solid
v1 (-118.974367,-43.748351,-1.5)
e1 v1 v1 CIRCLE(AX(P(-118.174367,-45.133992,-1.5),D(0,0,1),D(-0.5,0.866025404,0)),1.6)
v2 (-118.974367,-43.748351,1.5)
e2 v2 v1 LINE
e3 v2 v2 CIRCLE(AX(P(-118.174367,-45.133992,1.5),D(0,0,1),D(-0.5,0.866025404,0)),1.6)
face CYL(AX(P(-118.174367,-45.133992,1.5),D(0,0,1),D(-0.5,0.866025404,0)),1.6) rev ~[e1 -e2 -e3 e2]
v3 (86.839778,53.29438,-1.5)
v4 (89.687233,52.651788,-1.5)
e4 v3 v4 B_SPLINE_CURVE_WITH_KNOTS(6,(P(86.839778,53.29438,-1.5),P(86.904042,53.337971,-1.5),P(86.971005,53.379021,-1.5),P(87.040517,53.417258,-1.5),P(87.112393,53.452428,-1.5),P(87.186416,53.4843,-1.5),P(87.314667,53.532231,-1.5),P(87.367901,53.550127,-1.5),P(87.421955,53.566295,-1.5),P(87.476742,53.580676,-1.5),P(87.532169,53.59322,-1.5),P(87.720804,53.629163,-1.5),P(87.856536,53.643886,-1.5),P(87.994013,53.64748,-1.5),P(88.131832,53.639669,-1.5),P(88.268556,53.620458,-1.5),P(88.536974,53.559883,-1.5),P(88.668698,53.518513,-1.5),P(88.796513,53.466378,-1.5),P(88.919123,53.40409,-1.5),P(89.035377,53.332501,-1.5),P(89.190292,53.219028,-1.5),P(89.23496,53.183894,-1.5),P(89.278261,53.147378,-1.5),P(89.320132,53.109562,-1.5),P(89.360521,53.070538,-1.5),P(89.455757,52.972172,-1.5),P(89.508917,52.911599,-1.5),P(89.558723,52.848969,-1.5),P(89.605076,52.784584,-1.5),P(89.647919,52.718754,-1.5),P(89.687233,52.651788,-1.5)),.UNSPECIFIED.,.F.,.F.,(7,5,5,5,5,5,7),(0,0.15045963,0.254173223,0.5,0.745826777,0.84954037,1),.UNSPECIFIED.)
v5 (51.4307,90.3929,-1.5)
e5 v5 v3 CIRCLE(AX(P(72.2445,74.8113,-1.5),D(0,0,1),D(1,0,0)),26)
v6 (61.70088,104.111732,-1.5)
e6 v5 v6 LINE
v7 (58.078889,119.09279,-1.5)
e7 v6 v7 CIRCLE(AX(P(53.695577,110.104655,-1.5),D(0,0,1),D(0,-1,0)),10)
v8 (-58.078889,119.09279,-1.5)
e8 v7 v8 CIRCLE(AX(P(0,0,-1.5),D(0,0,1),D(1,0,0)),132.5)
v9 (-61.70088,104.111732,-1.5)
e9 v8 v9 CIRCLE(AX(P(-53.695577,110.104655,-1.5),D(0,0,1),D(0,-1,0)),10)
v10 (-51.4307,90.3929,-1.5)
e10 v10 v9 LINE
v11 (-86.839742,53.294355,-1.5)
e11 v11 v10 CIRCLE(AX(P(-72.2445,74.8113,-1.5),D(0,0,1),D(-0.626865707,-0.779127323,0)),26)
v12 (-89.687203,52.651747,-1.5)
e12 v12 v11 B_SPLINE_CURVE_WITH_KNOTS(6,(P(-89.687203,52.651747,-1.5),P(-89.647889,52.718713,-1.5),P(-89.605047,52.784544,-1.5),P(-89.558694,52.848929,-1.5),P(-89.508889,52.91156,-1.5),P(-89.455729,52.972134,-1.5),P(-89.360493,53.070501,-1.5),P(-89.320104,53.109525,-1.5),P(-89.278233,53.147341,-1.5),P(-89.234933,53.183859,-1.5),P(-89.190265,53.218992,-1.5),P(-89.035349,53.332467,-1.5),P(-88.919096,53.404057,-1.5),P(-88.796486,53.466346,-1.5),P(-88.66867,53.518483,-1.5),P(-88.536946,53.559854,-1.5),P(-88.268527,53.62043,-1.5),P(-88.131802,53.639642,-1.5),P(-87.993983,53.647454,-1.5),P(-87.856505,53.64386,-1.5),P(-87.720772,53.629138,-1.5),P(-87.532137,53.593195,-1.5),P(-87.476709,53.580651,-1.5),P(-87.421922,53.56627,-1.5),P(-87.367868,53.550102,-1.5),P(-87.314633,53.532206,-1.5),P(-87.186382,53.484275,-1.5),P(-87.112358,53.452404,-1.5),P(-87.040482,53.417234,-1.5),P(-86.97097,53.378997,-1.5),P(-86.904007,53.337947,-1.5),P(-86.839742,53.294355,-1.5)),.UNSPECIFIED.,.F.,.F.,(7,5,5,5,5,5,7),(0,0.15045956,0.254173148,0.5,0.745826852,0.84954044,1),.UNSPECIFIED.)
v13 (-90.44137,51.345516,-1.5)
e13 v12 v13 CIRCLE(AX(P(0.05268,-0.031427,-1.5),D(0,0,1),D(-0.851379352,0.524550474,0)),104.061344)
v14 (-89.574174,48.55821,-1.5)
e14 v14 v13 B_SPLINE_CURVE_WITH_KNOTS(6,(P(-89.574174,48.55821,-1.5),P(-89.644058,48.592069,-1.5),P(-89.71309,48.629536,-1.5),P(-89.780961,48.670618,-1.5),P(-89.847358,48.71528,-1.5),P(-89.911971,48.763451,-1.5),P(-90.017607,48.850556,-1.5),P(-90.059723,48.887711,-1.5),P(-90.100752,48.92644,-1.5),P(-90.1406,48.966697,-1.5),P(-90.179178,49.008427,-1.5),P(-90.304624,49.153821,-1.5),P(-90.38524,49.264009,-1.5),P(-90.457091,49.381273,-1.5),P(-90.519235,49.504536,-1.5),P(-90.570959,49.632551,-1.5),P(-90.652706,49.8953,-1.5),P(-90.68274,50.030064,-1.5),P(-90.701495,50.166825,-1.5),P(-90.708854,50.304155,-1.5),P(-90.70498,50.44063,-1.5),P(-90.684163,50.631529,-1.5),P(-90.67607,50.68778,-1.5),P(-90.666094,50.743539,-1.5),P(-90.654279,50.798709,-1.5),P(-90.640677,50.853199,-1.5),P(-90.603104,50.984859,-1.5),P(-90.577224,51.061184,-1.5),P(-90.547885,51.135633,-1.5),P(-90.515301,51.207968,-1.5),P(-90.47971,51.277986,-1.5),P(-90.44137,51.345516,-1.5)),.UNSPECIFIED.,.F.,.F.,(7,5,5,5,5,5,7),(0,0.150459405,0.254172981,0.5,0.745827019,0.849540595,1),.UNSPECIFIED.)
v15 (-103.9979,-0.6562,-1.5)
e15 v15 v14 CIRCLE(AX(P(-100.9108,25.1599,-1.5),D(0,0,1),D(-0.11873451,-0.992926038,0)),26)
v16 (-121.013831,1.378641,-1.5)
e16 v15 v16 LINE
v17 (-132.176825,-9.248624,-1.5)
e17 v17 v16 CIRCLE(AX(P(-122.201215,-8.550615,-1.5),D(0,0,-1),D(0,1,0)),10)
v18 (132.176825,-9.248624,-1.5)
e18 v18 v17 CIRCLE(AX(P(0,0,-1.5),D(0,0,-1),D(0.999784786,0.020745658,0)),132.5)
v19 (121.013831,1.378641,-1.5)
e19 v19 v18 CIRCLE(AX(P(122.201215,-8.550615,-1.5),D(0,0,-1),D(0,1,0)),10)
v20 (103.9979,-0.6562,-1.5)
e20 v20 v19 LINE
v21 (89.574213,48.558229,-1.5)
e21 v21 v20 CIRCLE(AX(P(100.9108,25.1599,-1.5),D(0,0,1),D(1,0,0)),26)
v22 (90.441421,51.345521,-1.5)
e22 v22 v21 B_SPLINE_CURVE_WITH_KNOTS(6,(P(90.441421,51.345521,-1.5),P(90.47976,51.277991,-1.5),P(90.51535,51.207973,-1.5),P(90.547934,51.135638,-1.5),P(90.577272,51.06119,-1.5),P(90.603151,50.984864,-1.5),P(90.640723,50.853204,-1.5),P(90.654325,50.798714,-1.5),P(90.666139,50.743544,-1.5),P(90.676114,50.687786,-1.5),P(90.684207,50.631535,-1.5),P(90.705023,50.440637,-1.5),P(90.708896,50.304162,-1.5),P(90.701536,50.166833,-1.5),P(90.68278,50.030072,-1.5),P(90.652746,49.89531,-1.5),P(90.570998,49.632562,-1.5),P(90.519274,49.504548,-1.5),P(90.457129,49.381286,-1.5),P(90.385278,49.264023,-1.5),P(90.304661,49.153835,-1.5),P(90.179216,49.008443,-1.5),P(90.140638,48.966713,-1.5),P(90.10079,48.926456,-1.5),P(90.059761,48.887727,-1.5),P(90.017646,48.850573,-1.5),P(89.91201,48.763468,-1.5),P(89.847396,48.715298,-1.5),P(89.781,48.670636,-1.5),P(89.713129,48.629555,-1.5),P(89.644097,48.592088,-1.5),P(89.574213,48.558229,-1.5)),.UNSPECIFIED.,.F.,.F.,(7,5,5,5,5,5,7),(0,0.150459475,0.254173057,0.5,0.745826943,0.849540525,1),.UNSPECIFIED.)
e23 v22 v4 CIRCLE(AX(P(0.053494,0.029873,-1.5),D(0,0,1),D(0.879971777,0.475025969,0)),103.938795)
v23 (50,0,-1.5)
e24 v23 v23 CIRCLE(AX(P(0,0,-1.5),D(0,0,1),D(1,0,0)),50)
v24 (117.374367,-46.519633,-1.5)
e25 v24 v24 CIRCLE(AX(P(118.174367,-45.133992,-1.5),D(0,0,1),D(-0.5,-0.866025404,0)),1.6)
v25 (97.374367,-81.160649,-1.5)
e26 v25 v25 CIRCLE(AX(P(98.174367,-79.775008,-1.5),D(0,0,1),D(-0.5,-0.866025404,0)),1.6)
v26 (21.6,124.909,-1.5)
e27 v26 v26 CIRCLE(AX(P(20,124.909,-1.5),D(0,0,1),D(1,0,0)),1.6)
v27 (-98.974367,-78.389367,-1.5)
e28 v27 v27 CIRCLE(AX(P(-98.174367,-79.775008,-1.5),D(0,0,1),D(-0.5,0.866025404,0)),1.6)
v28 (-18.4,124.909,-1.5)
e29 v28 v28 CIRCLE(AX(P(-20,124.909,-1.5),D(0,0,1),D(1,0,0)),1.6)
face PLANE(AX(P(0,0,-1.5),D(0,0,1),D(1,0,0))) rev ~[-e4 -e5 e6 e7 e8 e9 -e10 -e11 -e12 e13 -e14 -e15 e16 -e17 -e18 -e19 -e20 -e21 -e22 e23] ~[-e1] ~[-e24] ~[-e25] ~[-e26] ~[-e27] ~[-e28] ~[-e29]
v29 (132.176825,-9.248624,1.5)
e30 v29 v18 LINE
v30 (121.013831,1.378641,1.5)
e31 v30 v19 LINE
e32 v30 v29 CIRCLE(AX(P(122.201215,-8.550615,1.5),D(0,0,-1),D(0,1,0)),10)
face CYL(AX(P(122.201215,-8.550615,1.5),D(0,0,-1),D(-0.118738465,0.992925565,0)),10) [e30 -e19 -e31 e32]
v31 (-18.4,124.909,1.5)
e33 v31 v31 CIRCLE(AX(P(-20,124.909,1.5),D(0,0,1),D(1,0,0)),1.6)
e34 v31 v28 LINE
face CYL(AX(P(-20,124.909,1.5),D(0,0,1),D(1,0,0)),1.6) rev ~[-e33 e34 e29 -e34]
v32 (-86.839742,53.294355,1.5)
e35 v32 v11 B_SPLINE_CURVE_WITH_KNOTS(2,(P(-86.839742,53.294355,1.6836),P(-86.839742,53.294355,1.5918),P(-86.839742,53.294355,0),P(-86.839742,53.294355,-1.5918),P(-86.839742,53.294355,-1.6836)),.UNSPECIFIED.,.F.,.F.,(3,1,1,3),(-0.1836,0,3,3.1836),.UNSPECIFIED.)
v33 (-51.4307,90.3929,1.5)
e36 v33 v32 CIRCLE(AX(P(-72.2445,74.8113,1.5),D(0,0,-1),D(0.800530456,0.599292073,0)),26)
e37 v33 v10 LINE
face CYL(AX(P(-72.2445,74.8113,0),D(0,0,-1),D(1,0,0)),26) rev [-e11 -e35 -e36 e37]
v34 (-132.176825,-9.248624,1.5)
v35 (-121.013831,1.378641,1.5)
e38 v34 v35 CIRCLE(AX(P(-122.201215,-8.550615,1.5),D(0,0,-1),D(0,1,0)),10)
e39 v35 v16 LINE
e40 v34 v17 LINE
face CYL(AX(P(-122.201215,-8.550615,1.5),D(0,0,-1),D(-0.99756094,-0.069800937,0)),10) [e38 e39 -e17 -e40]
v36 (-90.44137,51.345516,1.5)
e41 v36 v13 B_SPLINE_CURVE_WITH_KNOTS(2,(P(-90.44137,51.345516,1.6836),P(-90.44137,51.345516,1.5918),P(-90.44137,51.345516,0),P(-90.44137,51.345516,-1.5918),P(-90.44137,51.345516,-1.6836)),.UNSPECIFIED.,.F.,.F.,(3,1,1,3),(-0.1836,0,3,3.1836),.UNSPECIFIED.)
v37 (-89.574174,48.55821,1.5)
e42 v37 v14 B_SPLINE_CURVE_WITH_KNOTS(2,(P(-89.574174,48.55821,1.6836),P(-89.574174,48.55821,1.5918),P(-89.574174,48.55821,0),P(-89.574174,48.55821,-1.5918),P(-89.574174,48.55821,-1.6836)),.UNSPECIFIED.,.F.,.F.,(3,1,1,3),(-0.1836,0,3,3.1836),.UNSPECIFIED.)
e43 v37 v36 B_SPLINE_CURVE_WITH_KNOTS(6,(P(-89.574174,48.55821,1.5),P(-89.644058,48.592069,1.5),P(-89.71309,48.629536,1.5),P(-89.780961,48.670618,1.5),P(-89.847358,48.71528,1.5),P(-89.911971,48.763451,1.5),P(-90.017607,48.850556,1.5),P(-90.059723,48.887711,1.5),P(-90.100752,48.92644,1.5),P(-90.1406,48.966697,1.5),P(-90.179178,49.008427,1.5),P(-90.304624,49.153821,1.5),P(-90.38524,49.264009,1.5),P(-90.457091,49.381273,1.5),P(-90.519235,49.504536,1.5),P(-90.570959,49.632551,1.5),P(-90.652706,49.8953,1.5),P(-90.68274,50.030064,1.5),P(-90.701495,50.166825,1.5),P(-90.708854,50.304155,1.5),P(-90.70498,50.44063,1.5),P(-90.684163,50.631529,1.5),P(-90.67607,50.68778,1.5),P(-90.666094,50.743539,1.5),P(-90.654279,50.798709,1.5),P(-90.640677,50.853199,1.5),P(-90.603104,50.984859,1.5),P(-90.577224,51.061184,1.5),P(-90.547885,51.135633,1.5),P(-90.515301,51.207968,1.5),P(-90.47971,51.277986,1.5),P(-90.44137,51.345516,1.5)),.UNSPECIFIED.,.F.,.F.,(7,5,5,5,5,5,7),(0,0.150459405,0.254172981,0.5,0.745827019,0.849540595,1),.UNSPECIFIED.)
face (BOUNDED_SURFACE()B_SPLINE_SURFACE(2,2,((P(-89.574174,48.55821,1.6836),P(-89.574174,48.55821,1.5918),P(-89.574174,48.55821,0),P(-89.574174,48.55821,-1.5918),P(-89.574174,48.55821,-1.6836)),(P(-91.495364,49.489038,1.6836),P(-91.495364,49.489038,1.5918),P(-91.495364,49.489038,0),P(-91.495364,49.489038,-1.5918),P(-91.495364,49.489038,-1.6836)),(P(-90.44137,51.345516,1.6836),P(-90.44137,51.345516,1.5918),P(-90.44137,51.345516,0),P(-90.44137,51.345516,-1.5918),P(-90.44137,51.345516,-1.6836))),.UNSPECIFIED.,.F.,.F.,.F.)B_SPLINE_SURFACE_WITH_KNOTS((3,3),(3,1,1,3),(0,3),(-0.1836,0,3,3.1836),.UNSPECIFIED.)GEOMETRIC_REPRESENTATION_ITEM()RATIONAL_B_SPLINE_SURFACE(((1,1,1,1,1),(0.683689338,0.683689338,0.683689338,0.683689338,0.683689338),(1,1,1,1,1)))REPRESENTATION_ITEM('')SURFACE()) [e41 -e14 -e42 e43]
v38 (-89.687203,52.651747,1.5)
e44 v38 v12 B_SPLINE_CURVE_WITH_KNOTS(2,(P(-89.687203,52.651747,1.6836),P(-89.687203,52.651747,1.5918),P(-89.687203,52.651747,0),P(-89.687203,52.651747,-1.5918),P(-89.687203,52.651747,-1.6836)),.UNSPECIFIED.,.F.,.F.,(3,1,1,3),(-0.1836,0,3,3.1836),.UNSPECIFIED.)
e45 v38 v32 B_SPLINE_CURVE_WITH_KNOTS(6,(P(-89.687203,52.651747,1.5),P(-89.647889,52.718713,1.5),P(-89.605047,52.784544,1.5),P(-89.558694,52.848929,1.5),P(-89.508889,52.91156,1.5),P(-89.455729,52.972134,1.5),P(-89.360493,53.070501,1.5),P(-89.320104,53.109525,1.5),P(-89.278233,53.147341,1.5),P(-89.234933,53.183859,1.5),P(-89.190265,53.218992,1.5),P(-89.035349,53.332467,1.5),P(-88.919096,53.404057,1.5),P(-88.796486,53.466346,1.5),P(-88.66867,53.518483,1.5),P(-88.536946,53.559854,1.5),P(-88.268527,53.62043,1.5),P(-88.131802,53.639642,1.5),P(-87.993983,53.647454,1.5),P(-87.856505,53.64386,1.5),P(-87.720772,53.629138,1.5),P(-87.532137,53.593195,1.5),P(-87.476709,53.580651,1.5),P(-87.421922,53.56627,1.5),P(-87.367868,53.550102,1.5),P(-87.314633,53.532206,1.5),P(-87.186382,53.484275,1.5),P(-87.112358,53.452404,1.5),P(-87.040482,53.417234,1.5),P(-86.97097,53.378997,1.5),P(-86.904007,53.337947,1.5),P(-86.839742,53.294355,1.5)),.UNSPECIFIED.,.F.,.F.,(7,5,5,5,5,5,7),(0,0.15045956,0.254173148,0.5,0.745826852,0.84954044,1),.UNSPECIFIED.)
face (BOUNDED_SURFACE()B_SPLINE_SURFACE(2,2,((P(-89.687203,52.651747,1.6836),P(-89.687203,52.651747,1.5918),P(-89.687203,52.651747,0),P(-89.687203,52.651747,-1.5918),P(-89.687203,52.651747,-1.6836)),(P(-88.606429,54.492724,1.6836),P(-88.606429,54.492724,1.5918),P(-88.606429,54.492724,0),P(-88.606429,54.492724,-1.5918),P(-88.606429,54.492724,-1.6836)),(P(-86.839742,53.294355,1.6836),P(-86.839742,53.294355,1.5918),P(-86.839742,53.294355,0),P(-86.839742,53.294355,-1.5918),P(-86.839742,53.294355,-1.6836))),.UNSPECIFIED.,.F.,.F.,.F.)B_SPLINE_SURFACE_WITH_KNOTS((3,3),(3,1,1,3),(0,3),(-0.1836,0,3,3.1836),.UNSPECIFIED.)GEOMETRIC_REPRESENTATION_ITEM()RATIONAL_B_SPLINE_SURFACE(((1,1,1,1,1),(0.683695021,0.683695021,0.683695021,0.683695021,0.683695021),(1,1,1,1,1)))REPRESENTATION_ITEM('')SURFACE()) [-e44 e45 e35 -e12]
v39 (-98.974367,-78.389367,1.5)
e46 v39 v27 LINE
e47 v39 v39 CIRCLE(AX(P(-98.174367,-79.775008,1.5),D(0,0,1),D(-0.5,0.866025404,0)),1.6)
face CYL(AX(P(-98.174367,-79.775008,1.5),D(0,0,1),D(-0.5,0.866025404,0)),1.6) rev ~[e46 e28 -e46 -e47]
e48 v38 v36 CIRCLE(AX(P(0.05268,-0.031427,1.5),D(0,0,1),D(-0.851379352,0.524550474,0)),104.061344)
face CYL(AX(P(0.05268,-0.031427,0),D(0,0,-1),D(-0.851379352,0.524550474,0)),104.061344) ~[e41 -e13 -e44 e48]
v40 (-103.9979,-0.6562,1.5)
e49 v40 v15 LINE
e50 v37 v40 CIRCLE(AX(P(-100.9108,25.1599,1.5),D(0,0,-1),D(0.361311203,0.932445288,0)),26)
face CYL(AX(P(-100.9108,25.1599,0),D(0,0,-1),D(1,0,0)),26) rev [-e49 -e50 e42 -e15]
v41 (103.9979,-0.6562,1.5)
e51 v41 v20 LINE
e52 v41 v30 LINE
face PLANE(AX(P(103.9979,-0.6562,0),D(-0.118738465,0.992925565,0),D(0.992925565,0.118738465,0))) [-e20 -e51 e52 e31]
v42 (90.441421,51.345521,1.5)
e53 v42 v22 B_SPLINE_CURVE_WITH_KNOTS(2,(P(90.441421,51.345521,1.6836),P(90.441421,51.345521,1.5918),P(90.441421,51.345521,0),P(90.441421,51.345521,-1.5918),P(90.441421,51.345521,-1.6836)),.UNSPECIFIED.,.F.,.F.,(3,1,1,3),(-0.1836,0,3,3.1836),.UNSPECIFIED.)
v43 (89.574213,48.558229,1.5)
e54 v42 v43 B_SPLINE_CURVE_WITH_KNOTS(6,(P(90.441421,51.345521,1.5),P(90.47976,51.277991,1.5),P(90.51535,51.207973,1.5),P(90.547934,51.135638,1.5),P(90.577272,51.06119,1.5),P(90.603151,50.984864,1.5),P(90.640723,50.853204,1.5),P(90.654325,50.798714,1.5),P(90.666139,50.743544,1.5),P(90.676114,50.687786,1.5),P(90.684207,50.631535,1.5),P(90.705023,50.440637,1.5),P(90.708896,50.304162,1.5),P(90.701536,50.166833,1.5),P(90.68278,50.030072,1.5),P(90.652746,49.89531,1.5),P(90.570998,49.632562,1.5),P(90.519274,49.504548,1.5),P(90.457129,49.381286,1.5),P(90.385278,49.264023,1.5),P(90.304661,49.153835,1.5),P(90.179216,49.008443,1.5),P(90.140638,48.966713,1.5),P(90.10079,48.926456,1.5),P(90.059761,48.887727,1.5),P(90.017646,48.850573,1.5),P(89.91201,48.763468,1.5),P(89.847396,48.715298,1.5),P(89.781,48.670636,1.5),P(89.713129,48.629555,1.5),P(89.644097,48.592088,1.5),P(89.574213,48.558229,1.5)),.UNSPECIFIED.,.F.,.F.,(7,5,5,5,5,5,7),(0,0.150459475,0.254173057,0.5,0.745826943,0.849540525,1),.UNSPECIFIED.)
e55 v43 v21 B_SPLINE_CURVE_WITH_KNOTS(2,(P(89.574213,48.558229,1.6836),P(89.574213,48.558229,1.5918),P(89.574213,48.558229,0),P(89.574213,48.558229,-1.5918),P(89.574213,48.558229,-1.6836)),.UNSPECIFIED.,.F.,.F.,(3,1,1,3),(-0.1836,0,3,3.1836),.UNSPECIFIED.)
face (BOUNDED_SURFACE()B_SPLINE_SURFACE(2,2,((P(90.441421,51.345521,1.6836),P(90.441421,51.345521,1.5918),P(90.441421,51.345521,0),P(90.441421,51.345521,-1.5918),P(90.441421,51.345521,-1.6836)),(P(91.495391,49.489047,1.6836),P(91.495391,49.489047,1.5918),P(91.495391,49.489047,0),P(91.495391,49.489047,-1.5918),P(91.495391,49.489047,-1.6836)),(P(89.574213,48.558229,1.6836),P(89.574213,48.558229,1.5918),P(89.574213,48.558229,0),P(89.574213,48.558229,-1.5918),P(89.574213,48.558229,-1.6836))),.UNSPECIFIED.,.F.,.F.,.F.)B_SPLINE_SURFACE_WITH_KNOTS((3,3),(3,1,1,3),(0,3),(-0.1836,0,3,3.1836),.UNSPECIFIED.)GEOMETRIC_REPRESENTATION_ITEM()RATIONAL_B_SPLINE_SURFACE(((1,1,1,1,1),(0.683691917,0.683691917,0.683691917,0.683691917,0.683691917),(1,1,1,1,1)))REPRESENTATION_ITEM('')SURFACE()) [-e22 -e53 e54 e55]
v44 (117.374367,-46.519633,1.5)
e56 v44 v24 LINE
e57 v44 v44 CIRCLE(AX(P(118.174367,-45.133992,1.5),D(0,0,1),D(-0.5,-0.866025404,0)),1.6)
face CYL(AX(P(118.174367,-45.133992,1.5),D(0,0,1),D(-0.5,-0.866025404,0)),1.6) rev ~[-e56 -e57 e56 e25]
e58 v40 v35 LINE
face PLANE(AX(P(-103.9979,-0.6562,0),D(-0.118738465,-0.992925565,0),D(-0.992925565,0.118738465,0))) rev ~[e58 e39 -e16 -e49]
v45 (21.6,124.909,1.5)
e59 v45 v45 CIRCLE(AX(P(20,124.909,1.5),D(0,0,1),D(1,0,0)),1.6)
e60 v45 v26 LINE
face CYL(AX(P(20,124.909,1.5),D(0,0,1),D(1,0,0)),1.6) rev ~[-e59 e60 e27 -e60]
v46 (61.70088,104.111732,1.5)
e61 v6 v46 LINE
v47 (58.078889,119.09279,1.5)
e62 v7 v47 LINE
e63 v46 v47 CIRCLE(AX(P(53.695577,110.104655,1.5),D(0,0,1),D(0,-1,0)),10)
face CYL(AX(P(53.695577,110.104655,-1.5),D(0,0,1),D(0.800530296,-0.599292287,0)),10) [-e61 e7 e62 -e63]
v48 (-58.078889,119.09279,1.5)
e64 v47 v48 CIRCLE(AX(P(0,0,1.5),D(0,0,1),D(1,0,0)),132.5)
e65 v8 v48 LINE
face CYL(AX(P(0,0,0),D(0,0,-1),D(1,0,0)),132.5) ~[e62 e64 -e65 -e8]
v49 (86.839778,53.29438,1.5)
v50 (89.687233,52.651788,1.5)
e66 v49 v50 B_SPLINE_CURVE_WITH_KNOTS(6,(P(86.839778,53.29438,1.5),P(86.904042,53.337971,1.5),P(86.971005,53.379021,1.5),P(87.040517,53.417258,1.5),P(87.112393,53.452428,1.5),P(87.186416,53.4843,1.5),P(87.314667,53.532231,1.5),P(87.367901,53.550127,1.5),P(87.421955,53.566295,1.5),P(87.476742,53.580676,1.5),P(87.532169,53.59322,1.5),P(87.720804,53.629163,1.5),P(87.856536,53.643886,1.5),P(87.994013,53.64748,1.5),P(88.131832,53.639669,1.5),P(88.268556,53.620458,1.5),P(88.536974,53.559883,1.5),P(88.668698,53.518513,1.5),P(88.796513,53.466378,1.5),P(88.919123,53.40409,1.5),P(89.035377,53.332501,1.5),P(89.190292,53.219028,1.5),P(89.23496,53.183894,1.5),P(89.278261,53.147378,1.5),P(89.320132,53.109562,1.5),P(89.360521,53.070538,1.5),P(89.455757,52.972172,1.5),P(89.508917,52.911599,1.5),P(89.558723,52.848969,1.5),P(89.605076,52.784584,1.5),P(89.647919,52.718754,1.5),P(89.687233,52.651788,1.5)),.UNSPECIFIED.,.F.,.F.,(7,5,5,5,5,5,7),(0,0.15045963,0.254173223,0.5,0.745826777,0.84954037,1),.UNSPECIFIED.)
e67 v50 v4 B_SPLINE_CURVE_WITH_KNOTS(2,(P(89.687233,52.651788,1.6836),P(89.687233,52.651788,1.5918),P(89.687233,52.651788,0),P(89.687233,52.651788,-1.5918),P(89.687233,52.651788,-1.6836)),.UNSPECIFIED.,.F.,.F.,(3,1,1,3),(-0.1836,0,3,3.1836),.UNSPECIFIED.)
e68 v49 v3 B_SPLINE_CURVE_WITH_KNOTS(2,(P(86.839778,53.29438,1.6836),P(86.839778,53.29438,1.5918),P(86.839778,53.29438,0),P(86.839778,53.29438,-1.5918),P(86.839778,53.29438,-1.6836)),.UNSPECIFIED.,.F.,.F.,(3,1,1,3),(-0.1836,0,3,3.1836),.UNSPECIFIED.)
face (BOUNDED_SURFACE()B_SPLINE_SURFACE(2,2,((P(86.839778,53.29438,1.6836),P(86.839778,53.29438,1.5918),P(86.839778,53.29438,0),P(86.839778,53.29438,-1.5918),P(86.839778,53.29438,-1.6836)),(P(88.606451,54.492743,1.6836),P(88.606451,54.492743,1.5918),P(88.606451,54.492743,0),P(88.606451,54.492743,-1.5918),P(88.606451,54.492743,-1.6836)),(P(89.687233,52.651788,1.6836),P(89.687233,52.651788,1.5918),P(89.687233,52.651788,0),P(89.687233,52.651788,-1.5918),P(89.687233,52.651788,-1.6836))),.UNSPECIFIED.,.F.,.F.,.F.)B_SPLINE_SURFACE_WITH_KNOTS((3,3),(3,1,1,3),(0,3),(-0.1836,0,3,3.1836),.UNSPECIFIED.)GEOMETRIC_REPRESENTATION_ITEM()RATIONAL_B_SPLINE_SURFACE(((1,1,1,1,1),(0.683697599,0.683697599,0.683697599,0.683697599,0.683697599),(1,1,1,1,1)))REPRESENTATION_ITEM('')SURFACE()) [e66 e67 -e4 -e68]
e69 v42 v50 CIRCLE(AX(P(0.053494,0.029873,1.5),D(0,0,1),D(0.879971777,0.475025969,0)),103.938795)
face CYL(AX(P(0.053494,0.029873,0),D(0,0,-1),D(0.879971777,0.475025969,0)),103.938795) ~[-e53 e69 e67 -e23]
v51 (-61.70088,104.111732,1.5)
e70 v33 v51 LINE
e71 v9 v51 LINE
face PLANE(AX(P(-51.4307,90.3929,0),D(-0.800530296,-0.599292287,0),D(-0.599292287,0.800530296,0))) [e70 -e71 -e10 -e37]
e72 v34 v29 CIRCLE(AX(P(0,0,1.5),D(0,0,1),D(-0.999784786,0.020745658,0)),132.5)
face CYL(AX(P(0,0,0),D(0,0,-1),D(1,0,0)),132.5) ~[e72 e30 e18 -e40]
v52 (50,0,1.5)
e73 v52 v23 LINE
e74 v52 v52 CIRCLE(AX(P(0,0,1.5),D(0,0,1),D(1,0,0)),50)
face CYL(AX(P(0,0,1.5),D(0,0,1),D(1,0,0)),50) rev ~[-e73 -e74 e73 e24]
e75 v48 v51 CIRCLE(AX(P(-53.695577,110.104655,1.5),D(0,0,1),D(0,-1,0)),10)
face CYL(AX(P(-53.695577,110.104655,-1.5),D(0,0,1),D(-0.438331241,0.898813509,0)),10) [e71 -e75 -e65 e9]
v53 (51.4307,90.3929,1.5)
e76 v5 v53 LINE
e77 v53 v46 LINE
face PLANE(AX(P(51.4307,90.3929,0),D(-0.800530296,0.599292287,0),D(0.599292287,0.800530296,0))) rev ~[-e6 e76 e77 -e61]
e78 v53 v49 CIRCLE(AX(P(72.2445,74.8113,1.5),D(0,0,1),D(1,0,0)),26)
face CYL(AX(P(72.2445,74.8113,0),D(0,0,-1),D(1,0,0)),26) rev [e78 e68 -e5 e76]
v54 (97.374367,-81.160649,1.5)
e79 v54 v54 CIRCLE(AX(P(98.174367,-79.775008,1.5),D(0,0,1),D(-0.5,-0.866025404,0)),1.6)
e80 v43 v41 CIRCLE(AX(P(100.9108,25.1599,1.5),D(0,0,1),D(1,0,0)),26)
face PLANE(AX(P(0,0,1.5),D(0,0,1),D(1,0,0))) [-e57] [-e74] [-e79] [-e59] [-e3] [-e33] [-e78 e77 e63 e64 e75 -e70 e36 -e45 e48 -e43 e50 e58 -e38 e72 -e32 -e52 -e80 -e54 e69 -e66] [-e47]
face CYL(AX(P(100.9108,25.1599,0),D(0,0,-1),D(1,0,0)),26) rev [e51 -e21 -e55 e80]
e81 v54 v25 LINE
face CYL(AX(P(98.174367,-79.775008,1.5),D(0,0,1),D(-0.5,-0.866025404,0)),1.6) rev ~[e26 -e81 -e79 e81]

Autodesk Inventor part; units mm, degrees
ref_plane "YZ Plane" through (0, 0, 0) normal (1, 0, 0) x (0, 1, 0)
ref_plane "XZ Plane" through (0, 0, 0) normal (0, 1, 0) x (-1, 0, 0)
ref_plane "XY Plane" through (0, 0, 0) normal (0, 0, 1) x (1, 0, 0)
sketch "Эскиз1" plane through (0, 0, 0) normal (0, 0, 1) x (1, 0, 0)
  circle A0 centre (0, 0) radius 104 construction
  line L0 (0, 0) -> (0, 166.3327) construction
  line L1 (0, 0) -> (122.2993, 70.6095) construction
  line L2 (0, 0) -> (95.803, 99.2069) construction
  line L3 (0, 0) -> (133.5999, 33.3102) construction
  circle A1 centre (72.2445, 74.8113) radius 26
  circle A2 centre (100.9108, 25.1599) radius 26
  circle A3 centre (0, 0) radius 132.5
  line L4 (51.4307, 90.3929) -> (68.6163, 113.3493)
  line L5 (88.543, 54.554) -> (110.8856, 72.5303)
  line L6 (91.5167, 49.4035) -> (118.2559, 59.7646)
  line L7 (103.9979, -0.6562) -> (132.4715, 2.7488)
  circle A4 centre (-72.2445, 74.8113) radius 26
  circle A5 centre (-100.9108, 25.1599) radius 26
  line L8 (-51.4307, 90.3929) -> (-68.6163, 113.3493)
  line L9 (-88.543, 54.554) -> (-110.8856, 72.5303)
  line L10 (-91.5167, 49.4035) -> (-118.2559, 59.7646)
  line L11 (-103.9979, -0.6562) -> (-132.4715, 2.7488)
  arc A6 (91.5167, 49.4035) -> (88.543, 54.554) centre (0, 0) ccw
  arc A7 (-88.543, 54.554) -> (-91.5167, 49.4035) centre (0, 0) ccw
  point P0 (-68.6163, 113.3493)
  point P1 (-110.8856, 72.5303)
  point P2 (-118.2559, 59.7646)
  point P3 (-132.4715, 2.7488)
  dimension "d0" = 208
  dimension "d1" = 52
  dimension "d2" = 32
  dimension "d3" = 60
  dimension "d4" = 265
extrude "Выдавливание1" add sketch "Эскиз1" along normal mid plane 3 contours A1 A6 A2 L7 A3 L11 A5 A7 A4 L8 L4
fillet "Сопряжение1" radius 10 4 edges at (-68.6163, 113.3493, 0) (-132.4715, 2.7488, 0) (68.6163, 113.3493, 0) (132.4715, 2.7488, 0)
fillet "Сопряжение1" radius 2 4 edges at (88.543, 54.554, 0) (91.5167, 49.4035, 0) (-88.543, 54.554, 0) (-91.5167, 49.4035, 0)
sketch "Эскиз2" plane through (0, 0, 1.5) normal (0, 0, 1) x (1, 0, 0)
  circle A0 centre (20, 124.909) radius 1.95 construction
  circle A1 centre (20, 124.909) radius 1.6
  circle A2 centre (-20, 124.909) radius 1.6
  circle A3 centre (-20, 124.909) radius 1.6 projected
  point P0 (0, 0)
  dimension "d9" = 3.2
extrude "Выдавливание2" cut sketch "Эскиз2" against normal through all
pattern_circular "Круговой массив1" count 3 over 360 about axis through (0, 0, -10) along (0, 0, 1) of "Выдавливание2"
sketch "Эскиз3" plane through (0, 0, 1.5) normal (0, 0, 1) x (1, 0, 0)
  circle A0 centre (0, 0) radius 50
  dimension "d15" = 100
extrude "Выдавливание3" cut sketch "Эскиз3" against normal through all
properties part number "Диск_фиксирующий"
